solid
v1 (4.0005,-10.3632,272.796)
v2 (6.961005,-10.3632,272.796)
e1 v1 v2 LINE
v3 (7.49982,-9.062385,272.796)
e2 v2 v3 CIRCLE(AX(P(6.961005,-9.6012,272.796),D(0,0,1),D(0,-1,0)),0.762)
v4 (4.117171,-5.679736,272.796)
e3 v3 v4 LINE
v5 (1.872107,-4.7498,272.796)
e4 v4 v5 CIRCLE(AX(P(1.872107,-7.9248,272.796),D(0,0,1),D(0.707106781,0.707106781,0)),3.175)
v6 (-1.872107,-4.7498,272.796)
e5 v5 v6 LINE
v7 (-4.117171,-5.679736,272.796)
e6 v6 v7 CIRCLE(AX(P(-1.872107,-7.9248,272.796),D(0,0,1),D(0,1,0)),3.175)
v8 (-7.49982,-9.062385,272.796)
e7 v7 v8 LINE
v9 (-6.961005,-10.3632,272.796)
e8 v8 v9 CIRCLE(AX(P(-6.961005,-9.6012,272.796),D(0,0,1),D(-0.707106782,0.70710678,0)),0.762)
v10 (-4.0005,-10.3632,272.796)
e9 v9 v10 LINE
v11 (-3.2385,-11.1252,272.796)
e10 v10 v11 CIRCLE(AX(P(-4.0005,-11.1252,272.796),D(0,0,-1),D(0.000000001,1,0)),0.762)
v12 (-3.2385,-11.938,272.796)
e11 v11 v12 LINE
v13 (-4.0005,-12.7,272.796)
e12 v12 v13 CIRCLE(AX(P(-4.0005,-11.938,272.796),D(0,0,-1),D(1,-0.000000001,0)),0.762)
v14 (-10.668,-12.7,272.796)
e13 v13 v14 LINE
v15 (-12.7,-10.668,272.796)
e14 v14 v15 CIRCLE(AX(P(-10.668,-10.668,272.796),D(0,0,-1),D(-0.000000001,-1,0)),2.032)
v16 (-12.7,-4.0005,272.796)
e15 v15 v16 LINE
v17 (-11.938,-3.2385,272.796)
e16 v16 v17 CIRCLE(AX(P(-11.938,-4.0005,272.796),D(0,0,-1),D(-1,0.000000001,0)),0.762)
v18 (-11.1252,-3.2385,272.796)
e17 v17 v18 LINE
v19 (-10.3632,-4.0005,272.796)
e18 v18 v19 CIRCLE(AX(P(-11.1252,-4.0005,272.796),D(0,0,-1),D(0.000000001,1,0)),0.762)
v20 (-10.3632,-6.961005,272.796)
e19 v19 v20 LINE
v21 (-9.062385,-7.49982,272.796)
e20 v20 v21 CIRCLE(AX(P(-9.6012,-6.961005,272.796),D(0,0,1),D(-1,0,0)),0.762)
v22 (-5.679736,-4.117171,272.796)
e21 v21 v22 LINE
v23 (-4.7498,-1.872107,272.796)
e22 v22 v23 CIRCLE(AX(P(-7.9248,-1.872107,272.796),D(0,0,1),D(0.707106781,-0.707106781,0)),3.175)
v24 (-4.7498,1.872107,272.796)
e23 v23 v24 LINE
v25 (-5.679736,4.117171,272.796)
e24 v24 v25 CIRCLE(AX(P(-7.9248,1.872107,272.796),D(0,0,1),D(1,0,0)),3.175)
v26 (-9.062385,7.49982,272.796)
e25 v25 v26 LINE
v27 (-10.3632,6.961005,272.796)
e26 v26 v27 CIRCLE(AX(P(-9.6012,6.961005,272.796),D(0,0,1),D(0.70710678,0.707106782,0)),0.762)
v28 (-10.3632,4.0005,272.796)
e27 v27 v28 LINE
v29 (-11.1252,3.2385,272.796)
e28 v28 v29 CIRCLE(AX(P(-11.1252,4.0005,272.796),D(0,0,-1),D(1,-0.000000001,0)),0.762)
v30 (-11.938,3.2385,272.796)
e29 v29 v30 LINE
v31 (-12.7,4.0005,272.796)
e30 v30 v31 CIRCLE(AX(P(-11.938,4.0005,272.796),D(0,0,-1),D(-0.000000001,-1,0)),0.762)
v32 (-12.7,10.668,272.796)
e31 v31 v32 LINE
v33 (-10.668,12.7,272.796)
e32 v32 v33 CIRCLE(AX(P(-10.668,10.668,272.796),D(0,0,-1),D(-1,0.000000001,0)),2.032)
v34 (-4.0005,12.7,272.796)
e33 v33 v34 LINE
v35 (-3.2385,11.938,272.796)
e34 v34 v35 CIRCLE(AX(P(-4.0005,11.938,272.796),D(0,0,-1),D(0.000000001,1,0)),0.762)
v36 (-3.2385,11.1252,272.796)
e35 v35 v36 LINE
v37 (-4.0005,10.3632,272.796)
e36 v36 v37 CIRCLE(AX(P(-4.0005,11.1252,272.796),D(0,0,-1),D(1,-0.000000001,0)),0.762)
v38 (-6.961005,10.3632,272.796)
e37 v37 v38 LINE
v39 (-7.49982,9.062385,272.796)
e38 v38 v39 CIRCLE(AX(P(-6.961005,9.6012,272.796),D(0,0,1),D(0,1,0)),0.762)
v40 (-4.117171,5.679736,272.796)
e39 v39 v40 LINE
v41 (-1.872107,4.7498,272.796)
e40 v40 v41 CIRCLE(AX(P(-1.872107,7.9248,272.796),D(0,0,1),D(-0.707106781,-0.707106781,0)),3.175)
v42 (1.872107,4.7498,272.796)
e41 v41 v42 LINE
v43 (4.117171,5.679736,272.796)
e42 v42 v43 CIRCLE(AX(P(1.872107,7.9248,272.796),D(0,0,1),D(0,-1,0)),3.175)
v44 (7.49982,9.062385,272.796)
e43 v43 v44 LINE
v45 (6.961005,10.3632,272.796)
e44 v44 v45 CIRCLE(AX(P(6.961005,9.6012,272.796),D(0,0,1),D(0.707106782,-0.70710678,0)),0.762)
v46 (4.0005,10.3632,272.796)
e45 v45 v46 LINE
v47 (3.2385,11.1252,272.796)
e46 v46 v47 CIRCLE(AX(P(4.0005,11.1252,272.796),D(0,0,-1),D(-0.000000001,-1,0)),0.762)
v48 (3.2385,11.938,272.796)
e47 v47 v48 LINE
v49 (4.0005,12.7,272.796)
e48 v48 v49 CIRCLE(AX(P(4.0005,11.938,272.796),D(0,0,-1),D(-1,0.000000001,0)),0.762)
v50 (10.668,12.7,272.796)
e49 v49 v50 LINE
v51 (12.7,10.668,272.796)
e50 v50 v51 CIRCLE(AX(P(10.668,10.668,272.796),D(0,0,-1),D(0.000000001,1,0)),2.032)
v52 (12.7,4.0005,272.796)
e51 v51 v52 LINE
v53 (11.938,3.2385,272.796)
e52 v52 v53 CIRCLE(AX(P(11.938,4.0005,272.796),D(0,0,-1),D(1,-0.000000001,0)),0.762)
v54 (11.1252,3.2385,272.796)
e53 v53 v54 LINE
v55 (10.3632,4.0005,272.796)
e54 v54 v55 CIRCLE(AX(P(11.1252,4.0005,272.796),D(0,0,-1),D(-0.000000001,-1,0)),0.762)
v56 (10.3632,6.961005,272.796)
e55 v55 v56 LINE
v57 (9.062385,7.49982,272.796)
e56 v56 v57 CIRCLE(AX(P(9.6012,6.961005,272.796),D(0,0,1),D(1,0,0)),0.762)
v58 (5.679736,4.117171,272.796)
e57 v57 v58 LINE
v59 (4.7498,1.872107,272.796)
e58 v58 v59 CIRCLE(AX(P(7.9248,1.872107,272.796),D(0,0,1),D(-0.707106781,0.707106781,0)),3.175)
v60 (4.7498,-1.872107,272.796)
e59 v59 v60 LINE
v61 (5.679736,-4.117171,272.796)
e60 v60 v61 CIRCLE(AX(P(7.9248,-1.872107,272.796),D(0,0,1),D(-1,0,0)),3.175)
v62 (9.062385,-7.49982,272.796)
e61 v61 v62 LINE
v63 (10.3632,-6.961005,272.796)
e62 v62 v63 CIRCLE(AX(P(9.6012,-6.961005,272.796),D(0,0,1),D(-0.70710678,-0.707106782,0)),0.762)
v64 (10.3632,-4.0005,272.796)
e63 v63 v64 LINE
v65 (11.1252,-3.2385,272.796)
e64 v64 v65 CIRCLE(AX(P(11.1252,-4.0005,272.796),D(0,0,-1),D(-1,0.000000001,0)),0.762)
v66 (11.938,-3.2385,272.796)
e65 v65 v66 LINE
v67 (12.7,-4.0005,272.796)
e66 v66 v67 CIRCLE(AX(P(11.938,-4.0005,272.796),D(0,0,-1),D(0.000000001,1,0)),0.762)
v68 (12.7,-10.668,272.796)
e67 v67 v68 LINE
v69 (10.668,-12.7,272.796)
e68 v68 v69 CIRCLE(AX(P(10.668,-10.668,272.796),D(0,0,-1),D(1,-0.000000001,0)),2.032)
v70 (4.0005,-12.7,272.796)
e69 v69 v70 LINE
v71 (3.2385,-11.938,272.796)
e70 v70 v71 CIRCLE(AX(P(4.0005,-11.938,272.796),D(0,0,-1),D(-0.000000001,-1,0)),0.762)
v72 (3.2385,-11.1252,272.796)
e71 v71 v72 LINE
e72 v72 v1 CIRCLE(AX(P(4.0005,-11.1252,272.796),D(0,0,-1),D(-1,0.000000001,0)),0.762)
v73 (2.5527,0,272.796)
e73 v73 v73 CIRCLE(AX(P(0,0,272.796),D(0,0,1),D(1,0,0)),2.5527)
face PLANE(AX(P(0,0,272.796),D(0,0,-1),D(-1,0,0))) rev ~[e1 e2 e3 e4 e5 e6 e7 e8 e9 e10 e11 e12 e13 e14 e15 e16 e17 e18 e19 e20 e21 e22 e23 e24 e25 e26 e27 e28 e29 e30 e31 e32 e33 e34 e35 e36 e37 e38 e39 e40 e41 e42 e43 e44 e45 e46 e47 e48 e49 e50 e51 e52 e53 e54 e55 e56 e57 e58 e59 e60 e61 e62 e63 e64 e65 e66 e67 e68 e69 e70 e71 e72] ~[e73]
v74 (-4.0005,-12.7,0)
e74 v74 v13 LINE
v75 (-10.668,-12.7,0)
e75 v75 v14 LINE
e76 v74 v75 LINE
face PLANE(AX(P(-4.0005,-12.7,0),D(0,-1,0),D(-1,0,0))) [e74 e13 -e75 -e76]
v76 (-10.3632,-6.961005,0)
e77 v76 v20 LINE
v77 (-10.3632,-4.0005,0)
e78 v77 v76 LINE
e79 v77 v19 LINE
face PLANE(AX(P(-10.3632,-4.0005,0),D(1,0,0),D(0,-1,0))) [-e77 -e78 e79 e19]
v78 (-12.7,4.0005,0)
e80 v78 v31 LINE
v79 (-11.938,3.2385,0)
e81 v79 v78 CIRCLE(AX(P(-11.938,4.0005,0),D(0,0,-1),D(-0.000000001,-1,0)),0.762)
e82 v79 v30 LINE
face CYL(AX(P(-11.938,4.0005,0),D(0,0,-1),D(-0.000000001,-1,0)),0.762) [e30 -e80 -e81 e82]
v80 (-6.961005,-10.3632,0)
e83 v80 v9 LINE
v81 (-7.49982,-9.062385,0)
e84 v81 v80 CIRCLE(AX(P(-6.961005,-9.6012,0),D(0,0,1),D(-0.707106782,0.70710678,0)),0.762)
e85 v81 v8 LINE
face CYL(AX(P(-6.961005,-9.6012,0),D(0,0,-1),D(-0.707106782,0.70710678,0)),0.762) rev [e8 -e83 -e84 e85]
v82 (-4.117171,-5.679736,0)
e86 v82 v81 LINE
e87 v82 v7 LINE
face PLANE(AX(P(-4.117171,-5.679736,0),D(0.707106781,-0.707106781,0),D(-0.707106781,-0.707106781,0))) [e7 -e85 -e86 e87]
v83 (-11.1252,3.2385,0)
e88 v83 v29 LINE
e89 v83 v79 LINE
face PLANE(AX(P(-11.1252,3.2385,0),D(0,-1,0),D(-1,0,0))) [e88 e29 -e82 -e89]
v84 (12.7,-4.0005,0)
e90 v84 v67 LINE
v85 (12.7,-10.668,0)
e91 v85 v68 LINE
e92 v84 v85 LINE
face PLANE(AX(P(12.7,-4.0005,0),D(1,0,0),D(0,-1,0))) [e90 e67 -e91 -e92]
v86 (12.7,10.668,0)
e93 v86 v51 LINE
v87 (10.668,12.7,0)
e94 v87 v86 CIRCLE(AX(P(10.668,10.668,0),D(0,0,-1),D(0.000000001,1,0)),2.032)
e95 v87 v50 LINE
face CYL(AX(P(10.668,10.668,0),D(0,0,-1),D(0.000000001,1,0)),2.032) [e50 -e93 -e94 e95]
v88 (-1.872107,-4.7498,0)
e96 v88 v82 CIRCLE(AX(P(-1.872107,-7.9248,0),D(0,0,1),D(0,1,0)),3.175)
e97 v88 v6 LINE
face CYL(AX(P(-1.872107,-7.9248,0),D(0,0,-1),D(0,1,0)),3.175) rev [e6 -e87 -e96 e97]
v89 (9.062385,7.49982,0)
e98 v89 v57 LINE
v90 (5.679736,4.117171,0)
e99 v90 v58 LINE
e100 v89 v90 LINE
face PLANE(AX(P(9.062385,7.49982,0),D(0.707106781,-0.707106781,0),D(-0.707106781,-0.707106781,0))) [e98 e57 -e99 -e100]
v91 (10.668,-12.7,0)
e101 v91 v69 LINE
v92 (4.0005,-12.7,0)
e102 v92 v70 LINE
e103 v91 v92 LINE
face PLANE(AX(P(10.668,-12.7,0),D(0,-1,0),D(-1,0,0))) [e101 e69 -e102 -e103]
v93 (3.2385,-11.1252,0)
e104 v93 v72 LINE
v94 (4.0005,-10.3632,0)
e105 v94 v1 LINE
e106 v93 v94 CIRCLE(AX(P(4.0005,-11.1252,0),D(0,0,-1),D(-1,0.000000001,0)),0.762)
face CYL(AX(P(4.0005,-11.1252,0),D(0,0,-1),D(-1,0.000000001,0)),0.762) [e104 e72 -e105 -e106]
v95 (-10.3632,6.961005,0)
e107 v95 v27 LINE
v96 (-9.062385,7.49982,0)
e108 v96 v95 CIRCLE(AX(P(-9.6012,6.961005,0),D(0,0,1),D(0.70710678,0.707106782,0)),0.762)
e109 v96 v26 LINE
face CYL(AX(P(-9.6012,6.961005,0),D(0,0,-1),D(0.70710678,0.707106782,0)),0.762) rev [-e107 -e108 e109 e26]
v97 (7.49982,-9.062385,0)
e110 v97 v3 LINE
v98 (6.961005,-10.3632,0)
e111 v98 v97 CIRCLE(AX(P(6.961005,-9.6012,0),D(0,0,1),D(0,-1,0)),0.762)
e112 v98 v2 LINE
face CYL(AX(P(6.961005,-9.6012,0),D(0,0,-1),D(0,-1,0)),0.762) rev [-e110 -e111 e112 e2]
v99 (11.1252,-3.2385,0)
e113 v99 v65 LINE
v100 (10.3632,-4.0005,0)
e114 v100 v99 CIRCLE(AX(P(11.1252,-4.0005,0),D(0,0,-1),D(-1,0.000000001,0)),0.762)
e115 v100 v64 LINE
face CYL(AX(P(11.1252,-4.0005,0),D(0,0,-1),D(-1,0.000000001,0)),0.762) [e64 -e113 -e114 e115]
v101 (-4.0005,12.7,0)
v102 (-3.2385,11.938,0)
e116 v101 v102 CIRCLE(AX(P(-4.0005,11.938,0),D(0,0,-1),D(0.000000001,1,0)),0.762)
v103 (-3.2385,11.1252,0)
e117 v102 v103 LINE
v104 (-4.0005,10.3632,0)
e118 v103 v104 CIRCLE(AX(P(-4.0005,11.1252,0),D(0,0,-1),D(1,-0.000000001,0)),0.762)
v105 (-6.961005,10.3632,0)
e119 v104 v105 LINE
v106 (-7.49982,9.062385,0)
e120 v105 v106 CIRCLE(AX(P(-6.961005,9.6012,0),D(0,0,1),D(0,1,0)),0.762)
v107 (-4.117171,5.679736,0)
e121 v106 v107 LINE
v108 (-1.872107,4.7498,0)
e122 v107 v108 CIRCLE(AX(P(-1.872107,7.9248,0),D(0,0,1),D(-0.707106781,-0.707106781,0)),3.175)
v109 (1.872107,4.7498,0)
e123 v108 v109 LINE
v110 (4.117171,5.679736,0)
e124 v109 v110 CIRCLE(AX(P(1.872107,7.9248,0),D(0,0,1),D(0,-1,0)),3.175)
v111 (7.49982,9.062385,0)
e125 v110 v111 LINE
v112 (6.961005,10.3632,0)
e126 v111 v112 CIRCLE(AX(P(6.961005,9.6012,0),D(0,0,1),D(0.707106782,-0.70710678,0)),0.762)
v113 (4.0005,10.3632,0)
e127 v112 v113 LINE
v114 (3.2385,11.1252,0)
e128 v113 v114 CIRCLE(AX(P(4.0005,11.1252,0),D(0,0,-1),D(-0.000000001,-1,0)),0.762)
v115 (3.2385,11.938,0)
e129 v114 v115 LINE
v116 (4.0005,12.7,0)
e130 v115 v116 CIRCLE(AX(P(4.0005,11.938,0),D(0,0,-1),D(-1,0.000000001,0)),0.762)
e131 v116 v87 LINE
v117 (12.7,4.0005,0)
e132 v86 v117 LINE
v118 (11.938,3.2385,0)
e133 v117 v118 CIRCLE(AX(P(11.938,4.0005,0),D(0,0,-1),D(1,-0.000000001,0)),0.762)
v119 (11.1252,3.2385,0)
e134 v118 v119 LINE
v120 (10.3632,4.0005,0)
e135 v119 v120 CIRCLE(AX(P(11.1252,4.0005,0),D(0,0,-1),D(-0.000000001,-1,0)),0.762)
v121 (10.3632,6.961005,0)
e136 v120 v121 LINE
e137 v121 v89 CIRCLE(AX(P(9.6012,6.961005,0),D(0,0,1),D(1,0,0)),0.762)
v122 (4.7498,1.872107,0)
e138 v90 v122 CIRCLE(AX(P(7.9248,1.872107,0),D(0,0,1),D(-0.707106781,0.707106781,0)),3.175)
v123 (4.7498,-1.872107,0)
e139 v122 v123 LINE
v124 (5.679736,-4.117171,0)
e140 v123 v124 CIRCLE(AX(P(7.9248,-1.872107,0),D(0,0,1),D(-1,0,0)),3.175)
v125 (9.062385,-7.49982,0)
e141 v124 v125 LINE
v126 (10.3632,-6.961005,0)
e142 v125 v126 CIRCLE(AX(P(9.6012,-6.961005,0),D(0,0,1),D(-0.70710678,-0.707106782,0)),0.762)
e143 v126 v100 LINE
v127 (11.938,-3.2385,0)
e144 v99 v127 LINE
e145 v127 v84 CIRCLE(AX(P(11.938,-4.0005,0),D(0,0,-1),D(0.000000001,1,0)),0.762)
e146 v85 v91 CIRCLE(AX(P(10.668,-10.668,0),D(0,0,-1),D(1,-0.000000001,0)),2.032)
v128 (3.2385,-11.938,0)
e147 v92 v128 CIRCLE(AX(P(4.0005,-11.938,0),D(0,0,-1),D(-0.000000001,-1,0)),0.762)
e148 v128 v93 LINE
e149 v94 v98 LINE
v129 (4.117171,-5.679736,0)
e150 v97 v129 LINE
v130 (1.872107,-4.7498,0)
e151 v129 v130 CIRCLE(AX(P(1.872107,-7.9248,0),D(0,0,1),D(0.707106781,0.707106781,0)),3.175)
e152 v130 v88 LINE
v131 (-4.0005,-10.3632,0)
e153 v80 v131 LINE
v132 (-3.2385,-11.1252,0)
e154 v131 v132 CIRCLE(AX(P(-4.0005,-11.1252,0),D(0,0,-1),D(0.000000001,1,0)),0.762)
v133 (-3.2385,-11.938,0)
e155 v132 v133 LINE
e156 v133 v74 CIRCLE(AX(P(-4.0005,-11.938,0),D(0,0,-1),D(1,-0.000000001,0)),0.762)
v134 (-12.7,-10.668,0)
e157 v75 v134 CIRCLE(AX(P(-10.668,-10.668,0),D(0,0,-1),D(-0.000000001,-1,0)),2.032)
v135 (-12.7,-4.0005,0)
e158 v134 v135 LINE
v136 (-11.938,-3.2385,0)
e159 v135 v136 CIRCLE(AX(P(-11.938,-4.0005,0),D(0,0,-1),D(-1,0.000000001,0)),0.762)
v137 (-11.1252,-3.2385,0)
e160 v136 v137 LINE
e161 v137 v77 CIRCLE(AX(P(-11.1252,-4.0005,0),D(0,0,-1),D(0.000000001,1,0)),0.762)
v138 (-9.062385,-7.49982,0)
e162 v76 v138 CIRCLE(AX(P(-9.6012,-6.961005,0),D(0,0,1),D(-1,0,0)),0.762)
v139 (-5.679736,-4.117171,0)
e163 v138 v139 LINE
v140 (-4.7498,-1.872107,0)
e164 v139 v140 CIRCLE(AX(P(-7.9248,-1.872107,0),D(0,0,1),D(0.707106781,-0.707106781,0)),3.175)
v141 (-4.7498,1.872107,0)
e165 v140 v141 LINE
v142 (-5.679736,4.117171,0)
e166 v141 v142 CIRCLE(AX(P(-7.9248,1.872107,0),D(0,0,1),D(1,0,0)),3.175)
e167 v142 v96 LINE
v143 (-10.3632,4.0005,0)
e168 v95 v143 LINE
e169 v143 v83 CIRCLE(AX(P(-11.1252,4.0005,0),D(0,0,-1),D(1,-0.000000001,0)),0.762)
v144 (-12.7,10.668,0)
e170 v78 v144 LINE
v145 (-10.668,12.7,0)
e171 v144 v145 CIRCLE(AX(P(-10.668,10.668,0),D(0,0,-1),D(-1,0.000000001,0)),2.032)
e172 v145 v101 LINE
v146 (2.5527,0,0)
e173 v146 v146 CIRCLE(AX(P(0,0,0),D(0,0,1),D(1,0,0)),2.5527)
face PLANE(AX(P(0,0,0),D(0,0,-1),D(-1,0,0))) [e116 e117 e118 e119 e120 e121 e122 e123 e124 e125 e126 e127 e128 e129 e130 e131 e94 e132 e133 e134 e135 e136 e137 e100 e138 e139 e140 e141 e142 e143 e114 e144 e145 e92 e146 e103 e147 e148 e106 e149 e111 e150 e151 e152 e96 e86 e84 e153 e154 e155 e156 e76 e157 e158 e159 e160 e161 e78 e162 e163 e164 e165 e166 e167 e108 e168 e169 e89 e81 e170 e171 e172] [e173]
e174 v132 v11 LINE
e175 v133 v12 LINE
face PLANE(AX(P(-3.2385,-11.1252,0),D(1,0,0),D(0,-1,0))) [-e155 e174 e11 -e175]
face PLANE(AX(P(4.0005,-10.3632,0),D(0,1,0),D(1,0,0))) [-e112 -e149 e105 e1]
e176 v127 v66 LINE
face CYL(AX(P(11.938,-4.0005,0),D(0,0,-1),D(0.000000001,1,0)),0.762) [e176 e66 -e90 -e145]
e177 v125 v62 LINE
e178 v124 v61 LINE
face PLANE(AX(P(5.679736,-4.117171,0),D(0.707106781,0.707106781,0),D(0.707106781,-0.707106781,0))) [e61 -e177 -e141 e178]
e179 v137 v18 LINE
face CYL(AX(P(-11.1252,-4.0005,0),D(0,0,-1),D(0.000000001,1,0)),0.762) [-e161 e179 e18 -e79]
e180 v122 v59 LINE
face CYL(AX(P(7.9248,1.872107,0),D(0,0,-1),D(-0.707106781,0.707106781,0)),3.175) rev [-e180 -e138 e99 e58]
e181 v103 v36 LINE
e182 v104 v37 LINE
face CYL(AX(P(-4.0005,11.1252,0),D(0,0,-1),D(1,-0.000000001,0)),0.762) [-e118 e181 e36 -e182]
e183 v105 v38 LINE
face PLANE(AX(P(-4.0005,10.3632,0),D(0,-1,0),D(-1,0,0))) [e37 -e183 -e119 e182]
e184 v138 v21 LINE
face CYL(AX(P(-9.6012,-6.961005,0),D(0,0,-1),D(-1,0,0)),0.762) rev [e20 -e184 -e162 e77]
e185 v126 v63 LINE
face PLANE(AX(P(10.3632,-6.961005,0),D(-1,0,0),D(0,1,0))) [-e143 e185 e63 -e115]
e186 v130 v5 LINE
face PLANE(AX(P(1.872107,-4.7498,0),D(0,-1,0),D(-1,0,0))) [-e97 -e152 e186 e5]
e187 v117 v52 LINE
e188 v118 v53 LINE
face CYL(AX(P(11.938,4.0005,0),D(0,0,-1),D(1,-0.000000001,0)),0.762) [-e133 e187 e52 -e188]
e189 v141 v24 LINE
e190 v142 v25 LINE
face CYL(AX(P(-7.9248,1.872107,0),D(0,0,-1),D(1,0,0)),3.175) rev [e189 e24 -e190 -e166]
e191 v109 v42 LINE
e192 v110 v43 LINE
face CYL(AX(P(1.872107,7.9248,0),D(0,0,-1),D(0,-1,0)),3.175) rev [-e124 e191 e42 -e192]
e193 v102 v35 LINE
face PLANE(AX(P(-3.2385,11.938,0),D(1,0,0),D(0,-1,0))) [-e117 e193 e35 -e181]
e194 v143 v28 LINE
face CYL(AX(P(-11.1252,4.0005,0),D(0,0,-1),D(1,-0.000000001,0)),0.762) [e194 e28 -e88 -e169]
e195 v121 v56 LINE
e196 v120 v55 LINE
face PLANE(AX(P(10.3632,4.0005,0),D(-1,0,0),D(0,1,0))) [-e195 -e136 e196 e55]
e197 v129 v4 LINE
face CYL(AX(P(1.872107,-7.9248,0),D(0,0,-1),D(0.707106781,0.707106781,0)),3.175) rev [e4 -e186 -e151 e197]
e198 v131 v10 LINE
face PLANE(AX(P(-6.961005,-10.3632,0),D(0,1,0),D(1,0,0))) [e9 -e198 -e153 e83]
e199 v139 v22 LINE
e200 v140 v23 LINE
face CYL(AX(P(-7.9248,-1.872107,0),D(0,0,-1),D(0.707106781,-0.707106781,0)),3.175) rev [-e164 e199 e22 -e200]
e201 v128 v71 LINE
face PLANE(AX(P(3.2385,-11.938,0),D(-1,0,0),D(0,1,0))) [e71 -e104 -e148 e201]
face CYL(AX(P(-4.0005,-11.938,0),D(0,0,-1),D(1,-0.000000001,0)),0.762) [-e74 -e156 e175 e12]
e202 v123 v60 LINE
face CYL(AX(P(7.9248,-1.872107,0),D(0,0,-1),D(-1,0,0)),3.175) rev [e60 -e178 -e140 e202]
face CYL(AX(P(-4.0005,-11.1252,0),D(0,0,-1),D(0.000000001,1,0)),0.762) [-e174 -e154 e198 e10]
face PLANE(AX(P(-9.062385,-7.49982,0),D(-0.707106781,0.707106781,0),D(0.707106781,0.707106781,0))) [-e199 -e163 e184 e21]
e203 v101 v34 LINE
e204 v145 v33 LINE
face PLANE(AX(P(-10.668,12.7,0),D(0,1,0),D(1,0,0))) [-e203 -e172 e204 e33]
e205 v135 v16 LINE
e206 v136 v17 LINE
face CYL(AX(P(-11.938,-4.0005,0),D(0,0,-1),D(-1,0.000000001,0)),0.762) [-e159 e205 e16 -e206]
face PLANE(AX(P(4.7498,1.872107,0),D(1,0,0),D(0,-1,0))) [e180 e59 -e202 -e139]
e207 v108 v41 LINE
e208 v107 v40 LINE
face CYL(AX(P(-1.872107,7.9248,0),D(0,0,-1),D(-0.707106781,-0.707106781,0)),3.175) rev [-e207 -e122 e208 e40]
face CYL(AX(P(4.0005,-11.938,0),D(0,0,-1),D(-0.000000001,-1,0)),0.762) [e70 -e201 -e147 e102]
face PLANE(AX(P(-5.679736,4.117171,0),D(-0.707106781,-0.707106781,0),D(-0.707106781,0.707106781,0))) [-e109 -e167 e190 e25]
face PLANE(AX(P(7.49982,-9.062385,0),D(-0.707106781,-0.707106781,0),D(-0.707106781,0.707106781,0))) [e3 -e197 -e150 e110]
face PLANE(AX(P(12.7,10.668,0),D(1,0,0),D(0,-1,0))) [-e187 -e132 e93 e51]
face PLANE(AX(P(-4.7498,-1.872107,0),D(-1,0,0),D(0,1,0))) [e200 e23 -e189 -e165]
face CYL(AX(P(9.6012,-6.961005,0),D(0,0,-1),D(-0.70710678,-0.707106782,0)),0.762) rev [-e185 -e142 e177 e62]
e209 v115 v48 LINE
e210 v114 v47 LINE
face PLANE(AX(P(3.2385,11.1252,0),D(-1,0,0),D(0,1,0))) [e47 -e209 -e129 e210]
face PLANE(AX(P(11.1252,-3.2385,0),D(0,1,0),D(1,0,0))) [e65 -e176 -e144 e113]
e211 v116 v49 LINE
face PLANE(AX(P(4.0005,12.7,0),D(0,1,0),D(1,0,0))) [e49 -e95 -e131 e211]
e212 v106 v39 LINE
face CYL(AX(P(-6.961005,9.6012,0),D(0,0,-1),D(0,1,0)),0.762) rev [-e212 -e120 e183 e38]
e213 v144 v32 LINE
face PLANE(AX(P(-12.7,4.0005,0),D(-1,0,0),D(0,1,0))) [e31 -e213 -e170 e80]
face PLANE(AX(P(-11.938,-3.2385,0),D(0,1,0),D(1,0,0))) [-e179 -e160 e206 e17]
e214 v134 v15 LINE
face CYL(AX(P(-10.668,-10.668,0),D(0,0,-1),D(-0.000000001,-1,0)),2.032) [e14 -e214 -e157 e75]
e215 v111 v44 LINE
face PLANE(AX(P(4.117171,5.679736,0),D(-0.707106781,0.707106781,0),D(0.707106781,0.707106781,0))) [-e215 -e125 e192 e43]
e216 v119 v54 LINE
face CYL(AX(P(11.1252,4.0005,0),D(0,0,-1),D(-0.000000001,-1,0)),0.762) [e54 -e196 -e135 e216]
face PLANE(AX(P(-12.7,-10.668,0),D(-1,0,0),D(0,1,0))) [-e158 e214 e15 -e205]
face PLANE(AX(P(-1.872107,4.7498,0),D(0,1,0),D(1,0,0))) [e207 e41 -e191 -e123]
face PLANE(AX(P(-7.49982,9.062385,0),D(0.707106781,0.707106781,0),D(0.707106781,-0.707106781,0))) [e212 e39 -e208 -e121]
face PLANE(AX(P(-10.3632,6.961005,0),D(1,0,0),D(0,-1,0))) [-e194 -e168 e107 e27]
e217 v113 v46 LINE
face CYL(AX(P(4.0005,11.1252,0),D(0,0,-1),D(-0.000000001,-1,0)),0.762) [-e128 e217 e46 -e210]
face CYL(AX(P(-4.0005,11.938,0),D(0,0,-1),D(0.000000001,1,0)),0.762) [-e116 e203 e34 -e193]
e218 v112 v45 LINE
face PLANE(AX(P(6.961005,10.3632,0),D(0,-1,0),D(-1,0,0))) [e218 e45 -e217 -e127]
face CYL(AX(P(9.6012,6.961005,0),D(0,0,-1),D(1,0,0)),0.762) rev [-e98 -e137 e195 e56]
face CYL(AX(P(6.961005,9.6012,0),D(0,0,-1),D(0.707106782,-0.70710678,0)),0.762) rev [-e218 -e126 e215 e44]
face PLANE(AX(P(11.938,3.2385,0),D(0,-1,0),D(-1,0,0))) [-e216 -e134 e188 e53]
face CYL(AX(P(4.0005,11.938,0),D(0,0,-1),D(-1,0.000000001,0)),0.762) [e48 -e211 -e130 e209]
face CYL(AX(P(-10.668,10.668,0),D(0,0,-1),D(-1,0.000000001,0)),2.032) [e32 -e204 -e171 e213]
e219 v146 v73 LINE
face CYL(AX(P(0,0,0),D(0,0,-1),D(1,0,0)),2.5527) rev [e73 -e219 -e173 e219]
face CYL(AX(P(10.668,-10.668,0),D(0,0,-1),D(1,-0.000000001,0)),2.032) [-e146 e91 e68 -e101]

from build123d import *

# Parameters (mm, degrees)
SKETCH1_R           = 2.5527
BOSS_EXTRUDE1_DEPTH = 272.796


with BuildPart() as part:
    # Sketch1 → Boss-Extrude1 (new body)
    with BuildSketch(Plane.XY):
        with BuildLine():
            Line((-7.499820068, 9.062384633), (-4.117171405, 5.67973597))
            ThreePointArc((-4.117171405, 5.67973597), (-3.087127272, 4.991482484), (-1.872107374, 4.7498))
            Line((-1.872107374, 4.7498), (1.872107374, 4.7498))
            ThreePointArc((1.872107374, 4.7498), (3.087127272, 4.991482484), (4.117171405, 5.67973597))
            Line((4.117171405, 5.67973597), (7.499820068, 9.062384633))
            ThreePointArc((7.499820068, 9.062384633), (7.665000904, 9.892804775), (6.9610047, 10.3632))
            Line((6.9610047, 10.3632), (4.0005, 10.3632))
            ThreePointArc((4.0005, 10.3632), (3.461684633, 10.586384633), (3.2385, 11.1252))
            Line((3.2385, 11.1252), (3.2385, 11.938))
            ThreePointArc((3.2385, 11.938), (3.461684633, 12.476815367), (4.0005, 12.7))
            Line((4.0005, 12.7), (10.668, 12.7))
            ThreePointArc((10.668, 12.7), (12.104840979, 12.104840979), (12.7, 10.668))
            Line((12.7, 10.668), (12.7, 4.0005))
            ThreePointArc((12.7, 4.0005), (12.476815367, 3.461684633), (11.938, 3.2385))
            Line((11.938, 3.2385), (11.1252, 3.2385))
            ThreePointArc((11.1252, 3.2385), (10.586384633, 3.461684633), (10.3632, 4.0005))
            Line((10.3632, 4.0005), (10.3632, 6.9610047))
            ThreePointArc((10.3632, 6.9610047), (9.892804775, 7.665000904), (9.062384633, 7.499820068))
            Line((9.062384633, 7.499820068), (5.67973597, 4.117171405))
            ThreePointArc((5.67973597, 4.117171405), (4.991482484, 3.087127272), (4.7498, 1.872107374))
            Line((4.7498, 1.872107374), (4.7498, -1.872107374))
            ThreePointArc((4.7498, -1.872107374), (4.991482484, -3.087127272), (5.67973597, -4.117171405))
            Line((5.67973597, -4.117171405), (9.062384633, -7.499820068))
            ThreePointArc((9.062384633, -7.499820068), (9.892804775, -7.665000904), (10.3632, -6.9610047))
            Line((10.3632, -6.9610047), (10.3632, -4.0005))
            ThreePointArc((10.3632, -4.0005), (10.586384633, -3.461684633), (11.1252, -3.2385))
            Line((11.1252, -3.2385), (11.938, -3.2385))
            ThreePointArc((11.938, -3.2385), (12.476815367, -3.461684633), (12.7, -4.0005))
            Line((12.7, -4.0005), (12.7, -10.668))
            ThreePointArc((12.7, -10.668), (12.104840979, -12.104840979), (10.668, -12.7))
            Line((10.668, -12.7), (4.0005, -12.7))
            ThreePointArc((4.0005, -12.7), (3.461684633, -12.476815367), (3.2385, -11.938))
            Line((3.2385, -11.938), (3.2385, -11.1252))
            ThreePointArc((3.2385, -11.1252), (3.461684633, -10.586384633), (4.0005, -10.3632))
            Line((4.0005, -10.3632), (6.9610047, -10.3632))
            ThreePointArc((6.9610047, -10.3632), (7.665000904, -9.892804775), (7.499820068, -9.062384633))
            Line((7.499820068, -9.062384633), (4.117171405, -5.67973597))
            ThreePointArc((4.117171405, -5.67973597), (3.087127272, -4.991482484), (1.872107374, -4.7498))
            Line((1.872107374, -4.7498), (-1.872107374, -4.7498))
            ThreePointArc((-1.872107374, -4.7498), (-3.087127272, -4.991482484), (-4.117171405, -5.67973597))
            Line((-4.117171405, -5.67973597), (-7.499820068, -9.062384633))
            ThreePointArc((-7.499820068, -9.062384633), (-7.665000904, -9.892804775), (-6.9610047, -10.3632))
            Line((-6.9610047, -10.3632), (-4.0005, -10.3632))
            ThreePointArc((-4.0005, -10.3632), (-3.461684633, -10.586384633), (-3.2385, -11.1252))
            Line((-3.2385, -11.1252), (-3.2385, -11.938))
            ThreePointArc((-3.2385, -11.938), (-3.461684633, -12.476815367), (-4.0005, -12.7))
            Line((-4.0005, -12.7), (-10.668, -12.7))
            ThreePointArc((-10.668, -12.7), (-12.104840979, -12.104840979), (-12.7, -10.668))
            Line((-12.7, -10.668), (-12.7, -4.0005))
            ThreePointArc((-12.7, -4.0005), (-12.476815367, -3.461684633), (-11.938, -3.2385))
            Line((-11.938, -3.2385), (-11.1252, -3.2385))
            ThreePointArc((-11.1252, -3.2385), (-10.586384633, -3.461684633), (-10.3632, -4.0005))
            Line((-10.3632, -4.0005), (-10.3632, -6.9610047))
            ThreePointArc((-10.3632, -6.9610047), (-9.892804775, -7.665000904), (-9.062384633, -7.499820068))
            Line((-9.062384633, -7.499820068), (-5.67973597, -4.117171405))
            ThreePointArc((-5.67973597, -4.117171405), (-4.991482484, -3.087127272), (-4.7498, -1.872107374))
            Line((-4.7498, -1.872107374), (-4.7498, 1.872107374))
            ThreePointArc((-4.7498, 1.872107374), (-4.991482484, 3.087127272), (-5.67973597, 4.117171405))
            Line((-5.67973597, 4.117171405), (-9.062384633, 7.499820068))
            ThreePointArc((-9.062384633, 7.499820068), (-9.892804775, 7.665000904), (-10.3632, 6.9610047))
            Line((-10.3632, 6.9610047), (-10.3632, 4.0005))
            ThreePointArc((-10.3632, 4.0005), (-10.586384633, 3.461684633), (-11.1252, 3.2385))
            Line((-11.1252, 3.2385), (-11.938, 3.2385))
            ThreePointArc((-11.938, 3.2385), (-12.476815367, 3.461684633), (-12.7, 4.0005))
            Line((-12.7, 4.0005), (-12.7, 10.668))
            ThreePointArc((-12.7, 10.668), (-12.104840979, 12.104840979), (-10.668, 12.7))
            Line((-10.668, 12.7), (-4.0005, 12.7))
            ThreePointArc((-4.0005, 12.7), (-3.461684633, 12.476815367), (-3.2385, 11.938))
            Line((-3.2385, 11.938), (-3.2385, 11.1252))
            ThreePointArc((-3.2385, 11.1252), (-3.461684633, 10.586384633), (-4.0005, 10.3632))
            Line((-4.0005, 10.3632), (-6.9610047, 10.3632))
            ThreePointArc((-6.9610047, 10.3632), (-7.665000904, 9.892804775), (-7.499820068, 9.062384633))
        make_face()
        Circle(SKETCH1_R, mode=Mode.SUBTRACT)
    extrude(amount=BOSS_EXTRUDE1_DEPTH)


solid = part.part
